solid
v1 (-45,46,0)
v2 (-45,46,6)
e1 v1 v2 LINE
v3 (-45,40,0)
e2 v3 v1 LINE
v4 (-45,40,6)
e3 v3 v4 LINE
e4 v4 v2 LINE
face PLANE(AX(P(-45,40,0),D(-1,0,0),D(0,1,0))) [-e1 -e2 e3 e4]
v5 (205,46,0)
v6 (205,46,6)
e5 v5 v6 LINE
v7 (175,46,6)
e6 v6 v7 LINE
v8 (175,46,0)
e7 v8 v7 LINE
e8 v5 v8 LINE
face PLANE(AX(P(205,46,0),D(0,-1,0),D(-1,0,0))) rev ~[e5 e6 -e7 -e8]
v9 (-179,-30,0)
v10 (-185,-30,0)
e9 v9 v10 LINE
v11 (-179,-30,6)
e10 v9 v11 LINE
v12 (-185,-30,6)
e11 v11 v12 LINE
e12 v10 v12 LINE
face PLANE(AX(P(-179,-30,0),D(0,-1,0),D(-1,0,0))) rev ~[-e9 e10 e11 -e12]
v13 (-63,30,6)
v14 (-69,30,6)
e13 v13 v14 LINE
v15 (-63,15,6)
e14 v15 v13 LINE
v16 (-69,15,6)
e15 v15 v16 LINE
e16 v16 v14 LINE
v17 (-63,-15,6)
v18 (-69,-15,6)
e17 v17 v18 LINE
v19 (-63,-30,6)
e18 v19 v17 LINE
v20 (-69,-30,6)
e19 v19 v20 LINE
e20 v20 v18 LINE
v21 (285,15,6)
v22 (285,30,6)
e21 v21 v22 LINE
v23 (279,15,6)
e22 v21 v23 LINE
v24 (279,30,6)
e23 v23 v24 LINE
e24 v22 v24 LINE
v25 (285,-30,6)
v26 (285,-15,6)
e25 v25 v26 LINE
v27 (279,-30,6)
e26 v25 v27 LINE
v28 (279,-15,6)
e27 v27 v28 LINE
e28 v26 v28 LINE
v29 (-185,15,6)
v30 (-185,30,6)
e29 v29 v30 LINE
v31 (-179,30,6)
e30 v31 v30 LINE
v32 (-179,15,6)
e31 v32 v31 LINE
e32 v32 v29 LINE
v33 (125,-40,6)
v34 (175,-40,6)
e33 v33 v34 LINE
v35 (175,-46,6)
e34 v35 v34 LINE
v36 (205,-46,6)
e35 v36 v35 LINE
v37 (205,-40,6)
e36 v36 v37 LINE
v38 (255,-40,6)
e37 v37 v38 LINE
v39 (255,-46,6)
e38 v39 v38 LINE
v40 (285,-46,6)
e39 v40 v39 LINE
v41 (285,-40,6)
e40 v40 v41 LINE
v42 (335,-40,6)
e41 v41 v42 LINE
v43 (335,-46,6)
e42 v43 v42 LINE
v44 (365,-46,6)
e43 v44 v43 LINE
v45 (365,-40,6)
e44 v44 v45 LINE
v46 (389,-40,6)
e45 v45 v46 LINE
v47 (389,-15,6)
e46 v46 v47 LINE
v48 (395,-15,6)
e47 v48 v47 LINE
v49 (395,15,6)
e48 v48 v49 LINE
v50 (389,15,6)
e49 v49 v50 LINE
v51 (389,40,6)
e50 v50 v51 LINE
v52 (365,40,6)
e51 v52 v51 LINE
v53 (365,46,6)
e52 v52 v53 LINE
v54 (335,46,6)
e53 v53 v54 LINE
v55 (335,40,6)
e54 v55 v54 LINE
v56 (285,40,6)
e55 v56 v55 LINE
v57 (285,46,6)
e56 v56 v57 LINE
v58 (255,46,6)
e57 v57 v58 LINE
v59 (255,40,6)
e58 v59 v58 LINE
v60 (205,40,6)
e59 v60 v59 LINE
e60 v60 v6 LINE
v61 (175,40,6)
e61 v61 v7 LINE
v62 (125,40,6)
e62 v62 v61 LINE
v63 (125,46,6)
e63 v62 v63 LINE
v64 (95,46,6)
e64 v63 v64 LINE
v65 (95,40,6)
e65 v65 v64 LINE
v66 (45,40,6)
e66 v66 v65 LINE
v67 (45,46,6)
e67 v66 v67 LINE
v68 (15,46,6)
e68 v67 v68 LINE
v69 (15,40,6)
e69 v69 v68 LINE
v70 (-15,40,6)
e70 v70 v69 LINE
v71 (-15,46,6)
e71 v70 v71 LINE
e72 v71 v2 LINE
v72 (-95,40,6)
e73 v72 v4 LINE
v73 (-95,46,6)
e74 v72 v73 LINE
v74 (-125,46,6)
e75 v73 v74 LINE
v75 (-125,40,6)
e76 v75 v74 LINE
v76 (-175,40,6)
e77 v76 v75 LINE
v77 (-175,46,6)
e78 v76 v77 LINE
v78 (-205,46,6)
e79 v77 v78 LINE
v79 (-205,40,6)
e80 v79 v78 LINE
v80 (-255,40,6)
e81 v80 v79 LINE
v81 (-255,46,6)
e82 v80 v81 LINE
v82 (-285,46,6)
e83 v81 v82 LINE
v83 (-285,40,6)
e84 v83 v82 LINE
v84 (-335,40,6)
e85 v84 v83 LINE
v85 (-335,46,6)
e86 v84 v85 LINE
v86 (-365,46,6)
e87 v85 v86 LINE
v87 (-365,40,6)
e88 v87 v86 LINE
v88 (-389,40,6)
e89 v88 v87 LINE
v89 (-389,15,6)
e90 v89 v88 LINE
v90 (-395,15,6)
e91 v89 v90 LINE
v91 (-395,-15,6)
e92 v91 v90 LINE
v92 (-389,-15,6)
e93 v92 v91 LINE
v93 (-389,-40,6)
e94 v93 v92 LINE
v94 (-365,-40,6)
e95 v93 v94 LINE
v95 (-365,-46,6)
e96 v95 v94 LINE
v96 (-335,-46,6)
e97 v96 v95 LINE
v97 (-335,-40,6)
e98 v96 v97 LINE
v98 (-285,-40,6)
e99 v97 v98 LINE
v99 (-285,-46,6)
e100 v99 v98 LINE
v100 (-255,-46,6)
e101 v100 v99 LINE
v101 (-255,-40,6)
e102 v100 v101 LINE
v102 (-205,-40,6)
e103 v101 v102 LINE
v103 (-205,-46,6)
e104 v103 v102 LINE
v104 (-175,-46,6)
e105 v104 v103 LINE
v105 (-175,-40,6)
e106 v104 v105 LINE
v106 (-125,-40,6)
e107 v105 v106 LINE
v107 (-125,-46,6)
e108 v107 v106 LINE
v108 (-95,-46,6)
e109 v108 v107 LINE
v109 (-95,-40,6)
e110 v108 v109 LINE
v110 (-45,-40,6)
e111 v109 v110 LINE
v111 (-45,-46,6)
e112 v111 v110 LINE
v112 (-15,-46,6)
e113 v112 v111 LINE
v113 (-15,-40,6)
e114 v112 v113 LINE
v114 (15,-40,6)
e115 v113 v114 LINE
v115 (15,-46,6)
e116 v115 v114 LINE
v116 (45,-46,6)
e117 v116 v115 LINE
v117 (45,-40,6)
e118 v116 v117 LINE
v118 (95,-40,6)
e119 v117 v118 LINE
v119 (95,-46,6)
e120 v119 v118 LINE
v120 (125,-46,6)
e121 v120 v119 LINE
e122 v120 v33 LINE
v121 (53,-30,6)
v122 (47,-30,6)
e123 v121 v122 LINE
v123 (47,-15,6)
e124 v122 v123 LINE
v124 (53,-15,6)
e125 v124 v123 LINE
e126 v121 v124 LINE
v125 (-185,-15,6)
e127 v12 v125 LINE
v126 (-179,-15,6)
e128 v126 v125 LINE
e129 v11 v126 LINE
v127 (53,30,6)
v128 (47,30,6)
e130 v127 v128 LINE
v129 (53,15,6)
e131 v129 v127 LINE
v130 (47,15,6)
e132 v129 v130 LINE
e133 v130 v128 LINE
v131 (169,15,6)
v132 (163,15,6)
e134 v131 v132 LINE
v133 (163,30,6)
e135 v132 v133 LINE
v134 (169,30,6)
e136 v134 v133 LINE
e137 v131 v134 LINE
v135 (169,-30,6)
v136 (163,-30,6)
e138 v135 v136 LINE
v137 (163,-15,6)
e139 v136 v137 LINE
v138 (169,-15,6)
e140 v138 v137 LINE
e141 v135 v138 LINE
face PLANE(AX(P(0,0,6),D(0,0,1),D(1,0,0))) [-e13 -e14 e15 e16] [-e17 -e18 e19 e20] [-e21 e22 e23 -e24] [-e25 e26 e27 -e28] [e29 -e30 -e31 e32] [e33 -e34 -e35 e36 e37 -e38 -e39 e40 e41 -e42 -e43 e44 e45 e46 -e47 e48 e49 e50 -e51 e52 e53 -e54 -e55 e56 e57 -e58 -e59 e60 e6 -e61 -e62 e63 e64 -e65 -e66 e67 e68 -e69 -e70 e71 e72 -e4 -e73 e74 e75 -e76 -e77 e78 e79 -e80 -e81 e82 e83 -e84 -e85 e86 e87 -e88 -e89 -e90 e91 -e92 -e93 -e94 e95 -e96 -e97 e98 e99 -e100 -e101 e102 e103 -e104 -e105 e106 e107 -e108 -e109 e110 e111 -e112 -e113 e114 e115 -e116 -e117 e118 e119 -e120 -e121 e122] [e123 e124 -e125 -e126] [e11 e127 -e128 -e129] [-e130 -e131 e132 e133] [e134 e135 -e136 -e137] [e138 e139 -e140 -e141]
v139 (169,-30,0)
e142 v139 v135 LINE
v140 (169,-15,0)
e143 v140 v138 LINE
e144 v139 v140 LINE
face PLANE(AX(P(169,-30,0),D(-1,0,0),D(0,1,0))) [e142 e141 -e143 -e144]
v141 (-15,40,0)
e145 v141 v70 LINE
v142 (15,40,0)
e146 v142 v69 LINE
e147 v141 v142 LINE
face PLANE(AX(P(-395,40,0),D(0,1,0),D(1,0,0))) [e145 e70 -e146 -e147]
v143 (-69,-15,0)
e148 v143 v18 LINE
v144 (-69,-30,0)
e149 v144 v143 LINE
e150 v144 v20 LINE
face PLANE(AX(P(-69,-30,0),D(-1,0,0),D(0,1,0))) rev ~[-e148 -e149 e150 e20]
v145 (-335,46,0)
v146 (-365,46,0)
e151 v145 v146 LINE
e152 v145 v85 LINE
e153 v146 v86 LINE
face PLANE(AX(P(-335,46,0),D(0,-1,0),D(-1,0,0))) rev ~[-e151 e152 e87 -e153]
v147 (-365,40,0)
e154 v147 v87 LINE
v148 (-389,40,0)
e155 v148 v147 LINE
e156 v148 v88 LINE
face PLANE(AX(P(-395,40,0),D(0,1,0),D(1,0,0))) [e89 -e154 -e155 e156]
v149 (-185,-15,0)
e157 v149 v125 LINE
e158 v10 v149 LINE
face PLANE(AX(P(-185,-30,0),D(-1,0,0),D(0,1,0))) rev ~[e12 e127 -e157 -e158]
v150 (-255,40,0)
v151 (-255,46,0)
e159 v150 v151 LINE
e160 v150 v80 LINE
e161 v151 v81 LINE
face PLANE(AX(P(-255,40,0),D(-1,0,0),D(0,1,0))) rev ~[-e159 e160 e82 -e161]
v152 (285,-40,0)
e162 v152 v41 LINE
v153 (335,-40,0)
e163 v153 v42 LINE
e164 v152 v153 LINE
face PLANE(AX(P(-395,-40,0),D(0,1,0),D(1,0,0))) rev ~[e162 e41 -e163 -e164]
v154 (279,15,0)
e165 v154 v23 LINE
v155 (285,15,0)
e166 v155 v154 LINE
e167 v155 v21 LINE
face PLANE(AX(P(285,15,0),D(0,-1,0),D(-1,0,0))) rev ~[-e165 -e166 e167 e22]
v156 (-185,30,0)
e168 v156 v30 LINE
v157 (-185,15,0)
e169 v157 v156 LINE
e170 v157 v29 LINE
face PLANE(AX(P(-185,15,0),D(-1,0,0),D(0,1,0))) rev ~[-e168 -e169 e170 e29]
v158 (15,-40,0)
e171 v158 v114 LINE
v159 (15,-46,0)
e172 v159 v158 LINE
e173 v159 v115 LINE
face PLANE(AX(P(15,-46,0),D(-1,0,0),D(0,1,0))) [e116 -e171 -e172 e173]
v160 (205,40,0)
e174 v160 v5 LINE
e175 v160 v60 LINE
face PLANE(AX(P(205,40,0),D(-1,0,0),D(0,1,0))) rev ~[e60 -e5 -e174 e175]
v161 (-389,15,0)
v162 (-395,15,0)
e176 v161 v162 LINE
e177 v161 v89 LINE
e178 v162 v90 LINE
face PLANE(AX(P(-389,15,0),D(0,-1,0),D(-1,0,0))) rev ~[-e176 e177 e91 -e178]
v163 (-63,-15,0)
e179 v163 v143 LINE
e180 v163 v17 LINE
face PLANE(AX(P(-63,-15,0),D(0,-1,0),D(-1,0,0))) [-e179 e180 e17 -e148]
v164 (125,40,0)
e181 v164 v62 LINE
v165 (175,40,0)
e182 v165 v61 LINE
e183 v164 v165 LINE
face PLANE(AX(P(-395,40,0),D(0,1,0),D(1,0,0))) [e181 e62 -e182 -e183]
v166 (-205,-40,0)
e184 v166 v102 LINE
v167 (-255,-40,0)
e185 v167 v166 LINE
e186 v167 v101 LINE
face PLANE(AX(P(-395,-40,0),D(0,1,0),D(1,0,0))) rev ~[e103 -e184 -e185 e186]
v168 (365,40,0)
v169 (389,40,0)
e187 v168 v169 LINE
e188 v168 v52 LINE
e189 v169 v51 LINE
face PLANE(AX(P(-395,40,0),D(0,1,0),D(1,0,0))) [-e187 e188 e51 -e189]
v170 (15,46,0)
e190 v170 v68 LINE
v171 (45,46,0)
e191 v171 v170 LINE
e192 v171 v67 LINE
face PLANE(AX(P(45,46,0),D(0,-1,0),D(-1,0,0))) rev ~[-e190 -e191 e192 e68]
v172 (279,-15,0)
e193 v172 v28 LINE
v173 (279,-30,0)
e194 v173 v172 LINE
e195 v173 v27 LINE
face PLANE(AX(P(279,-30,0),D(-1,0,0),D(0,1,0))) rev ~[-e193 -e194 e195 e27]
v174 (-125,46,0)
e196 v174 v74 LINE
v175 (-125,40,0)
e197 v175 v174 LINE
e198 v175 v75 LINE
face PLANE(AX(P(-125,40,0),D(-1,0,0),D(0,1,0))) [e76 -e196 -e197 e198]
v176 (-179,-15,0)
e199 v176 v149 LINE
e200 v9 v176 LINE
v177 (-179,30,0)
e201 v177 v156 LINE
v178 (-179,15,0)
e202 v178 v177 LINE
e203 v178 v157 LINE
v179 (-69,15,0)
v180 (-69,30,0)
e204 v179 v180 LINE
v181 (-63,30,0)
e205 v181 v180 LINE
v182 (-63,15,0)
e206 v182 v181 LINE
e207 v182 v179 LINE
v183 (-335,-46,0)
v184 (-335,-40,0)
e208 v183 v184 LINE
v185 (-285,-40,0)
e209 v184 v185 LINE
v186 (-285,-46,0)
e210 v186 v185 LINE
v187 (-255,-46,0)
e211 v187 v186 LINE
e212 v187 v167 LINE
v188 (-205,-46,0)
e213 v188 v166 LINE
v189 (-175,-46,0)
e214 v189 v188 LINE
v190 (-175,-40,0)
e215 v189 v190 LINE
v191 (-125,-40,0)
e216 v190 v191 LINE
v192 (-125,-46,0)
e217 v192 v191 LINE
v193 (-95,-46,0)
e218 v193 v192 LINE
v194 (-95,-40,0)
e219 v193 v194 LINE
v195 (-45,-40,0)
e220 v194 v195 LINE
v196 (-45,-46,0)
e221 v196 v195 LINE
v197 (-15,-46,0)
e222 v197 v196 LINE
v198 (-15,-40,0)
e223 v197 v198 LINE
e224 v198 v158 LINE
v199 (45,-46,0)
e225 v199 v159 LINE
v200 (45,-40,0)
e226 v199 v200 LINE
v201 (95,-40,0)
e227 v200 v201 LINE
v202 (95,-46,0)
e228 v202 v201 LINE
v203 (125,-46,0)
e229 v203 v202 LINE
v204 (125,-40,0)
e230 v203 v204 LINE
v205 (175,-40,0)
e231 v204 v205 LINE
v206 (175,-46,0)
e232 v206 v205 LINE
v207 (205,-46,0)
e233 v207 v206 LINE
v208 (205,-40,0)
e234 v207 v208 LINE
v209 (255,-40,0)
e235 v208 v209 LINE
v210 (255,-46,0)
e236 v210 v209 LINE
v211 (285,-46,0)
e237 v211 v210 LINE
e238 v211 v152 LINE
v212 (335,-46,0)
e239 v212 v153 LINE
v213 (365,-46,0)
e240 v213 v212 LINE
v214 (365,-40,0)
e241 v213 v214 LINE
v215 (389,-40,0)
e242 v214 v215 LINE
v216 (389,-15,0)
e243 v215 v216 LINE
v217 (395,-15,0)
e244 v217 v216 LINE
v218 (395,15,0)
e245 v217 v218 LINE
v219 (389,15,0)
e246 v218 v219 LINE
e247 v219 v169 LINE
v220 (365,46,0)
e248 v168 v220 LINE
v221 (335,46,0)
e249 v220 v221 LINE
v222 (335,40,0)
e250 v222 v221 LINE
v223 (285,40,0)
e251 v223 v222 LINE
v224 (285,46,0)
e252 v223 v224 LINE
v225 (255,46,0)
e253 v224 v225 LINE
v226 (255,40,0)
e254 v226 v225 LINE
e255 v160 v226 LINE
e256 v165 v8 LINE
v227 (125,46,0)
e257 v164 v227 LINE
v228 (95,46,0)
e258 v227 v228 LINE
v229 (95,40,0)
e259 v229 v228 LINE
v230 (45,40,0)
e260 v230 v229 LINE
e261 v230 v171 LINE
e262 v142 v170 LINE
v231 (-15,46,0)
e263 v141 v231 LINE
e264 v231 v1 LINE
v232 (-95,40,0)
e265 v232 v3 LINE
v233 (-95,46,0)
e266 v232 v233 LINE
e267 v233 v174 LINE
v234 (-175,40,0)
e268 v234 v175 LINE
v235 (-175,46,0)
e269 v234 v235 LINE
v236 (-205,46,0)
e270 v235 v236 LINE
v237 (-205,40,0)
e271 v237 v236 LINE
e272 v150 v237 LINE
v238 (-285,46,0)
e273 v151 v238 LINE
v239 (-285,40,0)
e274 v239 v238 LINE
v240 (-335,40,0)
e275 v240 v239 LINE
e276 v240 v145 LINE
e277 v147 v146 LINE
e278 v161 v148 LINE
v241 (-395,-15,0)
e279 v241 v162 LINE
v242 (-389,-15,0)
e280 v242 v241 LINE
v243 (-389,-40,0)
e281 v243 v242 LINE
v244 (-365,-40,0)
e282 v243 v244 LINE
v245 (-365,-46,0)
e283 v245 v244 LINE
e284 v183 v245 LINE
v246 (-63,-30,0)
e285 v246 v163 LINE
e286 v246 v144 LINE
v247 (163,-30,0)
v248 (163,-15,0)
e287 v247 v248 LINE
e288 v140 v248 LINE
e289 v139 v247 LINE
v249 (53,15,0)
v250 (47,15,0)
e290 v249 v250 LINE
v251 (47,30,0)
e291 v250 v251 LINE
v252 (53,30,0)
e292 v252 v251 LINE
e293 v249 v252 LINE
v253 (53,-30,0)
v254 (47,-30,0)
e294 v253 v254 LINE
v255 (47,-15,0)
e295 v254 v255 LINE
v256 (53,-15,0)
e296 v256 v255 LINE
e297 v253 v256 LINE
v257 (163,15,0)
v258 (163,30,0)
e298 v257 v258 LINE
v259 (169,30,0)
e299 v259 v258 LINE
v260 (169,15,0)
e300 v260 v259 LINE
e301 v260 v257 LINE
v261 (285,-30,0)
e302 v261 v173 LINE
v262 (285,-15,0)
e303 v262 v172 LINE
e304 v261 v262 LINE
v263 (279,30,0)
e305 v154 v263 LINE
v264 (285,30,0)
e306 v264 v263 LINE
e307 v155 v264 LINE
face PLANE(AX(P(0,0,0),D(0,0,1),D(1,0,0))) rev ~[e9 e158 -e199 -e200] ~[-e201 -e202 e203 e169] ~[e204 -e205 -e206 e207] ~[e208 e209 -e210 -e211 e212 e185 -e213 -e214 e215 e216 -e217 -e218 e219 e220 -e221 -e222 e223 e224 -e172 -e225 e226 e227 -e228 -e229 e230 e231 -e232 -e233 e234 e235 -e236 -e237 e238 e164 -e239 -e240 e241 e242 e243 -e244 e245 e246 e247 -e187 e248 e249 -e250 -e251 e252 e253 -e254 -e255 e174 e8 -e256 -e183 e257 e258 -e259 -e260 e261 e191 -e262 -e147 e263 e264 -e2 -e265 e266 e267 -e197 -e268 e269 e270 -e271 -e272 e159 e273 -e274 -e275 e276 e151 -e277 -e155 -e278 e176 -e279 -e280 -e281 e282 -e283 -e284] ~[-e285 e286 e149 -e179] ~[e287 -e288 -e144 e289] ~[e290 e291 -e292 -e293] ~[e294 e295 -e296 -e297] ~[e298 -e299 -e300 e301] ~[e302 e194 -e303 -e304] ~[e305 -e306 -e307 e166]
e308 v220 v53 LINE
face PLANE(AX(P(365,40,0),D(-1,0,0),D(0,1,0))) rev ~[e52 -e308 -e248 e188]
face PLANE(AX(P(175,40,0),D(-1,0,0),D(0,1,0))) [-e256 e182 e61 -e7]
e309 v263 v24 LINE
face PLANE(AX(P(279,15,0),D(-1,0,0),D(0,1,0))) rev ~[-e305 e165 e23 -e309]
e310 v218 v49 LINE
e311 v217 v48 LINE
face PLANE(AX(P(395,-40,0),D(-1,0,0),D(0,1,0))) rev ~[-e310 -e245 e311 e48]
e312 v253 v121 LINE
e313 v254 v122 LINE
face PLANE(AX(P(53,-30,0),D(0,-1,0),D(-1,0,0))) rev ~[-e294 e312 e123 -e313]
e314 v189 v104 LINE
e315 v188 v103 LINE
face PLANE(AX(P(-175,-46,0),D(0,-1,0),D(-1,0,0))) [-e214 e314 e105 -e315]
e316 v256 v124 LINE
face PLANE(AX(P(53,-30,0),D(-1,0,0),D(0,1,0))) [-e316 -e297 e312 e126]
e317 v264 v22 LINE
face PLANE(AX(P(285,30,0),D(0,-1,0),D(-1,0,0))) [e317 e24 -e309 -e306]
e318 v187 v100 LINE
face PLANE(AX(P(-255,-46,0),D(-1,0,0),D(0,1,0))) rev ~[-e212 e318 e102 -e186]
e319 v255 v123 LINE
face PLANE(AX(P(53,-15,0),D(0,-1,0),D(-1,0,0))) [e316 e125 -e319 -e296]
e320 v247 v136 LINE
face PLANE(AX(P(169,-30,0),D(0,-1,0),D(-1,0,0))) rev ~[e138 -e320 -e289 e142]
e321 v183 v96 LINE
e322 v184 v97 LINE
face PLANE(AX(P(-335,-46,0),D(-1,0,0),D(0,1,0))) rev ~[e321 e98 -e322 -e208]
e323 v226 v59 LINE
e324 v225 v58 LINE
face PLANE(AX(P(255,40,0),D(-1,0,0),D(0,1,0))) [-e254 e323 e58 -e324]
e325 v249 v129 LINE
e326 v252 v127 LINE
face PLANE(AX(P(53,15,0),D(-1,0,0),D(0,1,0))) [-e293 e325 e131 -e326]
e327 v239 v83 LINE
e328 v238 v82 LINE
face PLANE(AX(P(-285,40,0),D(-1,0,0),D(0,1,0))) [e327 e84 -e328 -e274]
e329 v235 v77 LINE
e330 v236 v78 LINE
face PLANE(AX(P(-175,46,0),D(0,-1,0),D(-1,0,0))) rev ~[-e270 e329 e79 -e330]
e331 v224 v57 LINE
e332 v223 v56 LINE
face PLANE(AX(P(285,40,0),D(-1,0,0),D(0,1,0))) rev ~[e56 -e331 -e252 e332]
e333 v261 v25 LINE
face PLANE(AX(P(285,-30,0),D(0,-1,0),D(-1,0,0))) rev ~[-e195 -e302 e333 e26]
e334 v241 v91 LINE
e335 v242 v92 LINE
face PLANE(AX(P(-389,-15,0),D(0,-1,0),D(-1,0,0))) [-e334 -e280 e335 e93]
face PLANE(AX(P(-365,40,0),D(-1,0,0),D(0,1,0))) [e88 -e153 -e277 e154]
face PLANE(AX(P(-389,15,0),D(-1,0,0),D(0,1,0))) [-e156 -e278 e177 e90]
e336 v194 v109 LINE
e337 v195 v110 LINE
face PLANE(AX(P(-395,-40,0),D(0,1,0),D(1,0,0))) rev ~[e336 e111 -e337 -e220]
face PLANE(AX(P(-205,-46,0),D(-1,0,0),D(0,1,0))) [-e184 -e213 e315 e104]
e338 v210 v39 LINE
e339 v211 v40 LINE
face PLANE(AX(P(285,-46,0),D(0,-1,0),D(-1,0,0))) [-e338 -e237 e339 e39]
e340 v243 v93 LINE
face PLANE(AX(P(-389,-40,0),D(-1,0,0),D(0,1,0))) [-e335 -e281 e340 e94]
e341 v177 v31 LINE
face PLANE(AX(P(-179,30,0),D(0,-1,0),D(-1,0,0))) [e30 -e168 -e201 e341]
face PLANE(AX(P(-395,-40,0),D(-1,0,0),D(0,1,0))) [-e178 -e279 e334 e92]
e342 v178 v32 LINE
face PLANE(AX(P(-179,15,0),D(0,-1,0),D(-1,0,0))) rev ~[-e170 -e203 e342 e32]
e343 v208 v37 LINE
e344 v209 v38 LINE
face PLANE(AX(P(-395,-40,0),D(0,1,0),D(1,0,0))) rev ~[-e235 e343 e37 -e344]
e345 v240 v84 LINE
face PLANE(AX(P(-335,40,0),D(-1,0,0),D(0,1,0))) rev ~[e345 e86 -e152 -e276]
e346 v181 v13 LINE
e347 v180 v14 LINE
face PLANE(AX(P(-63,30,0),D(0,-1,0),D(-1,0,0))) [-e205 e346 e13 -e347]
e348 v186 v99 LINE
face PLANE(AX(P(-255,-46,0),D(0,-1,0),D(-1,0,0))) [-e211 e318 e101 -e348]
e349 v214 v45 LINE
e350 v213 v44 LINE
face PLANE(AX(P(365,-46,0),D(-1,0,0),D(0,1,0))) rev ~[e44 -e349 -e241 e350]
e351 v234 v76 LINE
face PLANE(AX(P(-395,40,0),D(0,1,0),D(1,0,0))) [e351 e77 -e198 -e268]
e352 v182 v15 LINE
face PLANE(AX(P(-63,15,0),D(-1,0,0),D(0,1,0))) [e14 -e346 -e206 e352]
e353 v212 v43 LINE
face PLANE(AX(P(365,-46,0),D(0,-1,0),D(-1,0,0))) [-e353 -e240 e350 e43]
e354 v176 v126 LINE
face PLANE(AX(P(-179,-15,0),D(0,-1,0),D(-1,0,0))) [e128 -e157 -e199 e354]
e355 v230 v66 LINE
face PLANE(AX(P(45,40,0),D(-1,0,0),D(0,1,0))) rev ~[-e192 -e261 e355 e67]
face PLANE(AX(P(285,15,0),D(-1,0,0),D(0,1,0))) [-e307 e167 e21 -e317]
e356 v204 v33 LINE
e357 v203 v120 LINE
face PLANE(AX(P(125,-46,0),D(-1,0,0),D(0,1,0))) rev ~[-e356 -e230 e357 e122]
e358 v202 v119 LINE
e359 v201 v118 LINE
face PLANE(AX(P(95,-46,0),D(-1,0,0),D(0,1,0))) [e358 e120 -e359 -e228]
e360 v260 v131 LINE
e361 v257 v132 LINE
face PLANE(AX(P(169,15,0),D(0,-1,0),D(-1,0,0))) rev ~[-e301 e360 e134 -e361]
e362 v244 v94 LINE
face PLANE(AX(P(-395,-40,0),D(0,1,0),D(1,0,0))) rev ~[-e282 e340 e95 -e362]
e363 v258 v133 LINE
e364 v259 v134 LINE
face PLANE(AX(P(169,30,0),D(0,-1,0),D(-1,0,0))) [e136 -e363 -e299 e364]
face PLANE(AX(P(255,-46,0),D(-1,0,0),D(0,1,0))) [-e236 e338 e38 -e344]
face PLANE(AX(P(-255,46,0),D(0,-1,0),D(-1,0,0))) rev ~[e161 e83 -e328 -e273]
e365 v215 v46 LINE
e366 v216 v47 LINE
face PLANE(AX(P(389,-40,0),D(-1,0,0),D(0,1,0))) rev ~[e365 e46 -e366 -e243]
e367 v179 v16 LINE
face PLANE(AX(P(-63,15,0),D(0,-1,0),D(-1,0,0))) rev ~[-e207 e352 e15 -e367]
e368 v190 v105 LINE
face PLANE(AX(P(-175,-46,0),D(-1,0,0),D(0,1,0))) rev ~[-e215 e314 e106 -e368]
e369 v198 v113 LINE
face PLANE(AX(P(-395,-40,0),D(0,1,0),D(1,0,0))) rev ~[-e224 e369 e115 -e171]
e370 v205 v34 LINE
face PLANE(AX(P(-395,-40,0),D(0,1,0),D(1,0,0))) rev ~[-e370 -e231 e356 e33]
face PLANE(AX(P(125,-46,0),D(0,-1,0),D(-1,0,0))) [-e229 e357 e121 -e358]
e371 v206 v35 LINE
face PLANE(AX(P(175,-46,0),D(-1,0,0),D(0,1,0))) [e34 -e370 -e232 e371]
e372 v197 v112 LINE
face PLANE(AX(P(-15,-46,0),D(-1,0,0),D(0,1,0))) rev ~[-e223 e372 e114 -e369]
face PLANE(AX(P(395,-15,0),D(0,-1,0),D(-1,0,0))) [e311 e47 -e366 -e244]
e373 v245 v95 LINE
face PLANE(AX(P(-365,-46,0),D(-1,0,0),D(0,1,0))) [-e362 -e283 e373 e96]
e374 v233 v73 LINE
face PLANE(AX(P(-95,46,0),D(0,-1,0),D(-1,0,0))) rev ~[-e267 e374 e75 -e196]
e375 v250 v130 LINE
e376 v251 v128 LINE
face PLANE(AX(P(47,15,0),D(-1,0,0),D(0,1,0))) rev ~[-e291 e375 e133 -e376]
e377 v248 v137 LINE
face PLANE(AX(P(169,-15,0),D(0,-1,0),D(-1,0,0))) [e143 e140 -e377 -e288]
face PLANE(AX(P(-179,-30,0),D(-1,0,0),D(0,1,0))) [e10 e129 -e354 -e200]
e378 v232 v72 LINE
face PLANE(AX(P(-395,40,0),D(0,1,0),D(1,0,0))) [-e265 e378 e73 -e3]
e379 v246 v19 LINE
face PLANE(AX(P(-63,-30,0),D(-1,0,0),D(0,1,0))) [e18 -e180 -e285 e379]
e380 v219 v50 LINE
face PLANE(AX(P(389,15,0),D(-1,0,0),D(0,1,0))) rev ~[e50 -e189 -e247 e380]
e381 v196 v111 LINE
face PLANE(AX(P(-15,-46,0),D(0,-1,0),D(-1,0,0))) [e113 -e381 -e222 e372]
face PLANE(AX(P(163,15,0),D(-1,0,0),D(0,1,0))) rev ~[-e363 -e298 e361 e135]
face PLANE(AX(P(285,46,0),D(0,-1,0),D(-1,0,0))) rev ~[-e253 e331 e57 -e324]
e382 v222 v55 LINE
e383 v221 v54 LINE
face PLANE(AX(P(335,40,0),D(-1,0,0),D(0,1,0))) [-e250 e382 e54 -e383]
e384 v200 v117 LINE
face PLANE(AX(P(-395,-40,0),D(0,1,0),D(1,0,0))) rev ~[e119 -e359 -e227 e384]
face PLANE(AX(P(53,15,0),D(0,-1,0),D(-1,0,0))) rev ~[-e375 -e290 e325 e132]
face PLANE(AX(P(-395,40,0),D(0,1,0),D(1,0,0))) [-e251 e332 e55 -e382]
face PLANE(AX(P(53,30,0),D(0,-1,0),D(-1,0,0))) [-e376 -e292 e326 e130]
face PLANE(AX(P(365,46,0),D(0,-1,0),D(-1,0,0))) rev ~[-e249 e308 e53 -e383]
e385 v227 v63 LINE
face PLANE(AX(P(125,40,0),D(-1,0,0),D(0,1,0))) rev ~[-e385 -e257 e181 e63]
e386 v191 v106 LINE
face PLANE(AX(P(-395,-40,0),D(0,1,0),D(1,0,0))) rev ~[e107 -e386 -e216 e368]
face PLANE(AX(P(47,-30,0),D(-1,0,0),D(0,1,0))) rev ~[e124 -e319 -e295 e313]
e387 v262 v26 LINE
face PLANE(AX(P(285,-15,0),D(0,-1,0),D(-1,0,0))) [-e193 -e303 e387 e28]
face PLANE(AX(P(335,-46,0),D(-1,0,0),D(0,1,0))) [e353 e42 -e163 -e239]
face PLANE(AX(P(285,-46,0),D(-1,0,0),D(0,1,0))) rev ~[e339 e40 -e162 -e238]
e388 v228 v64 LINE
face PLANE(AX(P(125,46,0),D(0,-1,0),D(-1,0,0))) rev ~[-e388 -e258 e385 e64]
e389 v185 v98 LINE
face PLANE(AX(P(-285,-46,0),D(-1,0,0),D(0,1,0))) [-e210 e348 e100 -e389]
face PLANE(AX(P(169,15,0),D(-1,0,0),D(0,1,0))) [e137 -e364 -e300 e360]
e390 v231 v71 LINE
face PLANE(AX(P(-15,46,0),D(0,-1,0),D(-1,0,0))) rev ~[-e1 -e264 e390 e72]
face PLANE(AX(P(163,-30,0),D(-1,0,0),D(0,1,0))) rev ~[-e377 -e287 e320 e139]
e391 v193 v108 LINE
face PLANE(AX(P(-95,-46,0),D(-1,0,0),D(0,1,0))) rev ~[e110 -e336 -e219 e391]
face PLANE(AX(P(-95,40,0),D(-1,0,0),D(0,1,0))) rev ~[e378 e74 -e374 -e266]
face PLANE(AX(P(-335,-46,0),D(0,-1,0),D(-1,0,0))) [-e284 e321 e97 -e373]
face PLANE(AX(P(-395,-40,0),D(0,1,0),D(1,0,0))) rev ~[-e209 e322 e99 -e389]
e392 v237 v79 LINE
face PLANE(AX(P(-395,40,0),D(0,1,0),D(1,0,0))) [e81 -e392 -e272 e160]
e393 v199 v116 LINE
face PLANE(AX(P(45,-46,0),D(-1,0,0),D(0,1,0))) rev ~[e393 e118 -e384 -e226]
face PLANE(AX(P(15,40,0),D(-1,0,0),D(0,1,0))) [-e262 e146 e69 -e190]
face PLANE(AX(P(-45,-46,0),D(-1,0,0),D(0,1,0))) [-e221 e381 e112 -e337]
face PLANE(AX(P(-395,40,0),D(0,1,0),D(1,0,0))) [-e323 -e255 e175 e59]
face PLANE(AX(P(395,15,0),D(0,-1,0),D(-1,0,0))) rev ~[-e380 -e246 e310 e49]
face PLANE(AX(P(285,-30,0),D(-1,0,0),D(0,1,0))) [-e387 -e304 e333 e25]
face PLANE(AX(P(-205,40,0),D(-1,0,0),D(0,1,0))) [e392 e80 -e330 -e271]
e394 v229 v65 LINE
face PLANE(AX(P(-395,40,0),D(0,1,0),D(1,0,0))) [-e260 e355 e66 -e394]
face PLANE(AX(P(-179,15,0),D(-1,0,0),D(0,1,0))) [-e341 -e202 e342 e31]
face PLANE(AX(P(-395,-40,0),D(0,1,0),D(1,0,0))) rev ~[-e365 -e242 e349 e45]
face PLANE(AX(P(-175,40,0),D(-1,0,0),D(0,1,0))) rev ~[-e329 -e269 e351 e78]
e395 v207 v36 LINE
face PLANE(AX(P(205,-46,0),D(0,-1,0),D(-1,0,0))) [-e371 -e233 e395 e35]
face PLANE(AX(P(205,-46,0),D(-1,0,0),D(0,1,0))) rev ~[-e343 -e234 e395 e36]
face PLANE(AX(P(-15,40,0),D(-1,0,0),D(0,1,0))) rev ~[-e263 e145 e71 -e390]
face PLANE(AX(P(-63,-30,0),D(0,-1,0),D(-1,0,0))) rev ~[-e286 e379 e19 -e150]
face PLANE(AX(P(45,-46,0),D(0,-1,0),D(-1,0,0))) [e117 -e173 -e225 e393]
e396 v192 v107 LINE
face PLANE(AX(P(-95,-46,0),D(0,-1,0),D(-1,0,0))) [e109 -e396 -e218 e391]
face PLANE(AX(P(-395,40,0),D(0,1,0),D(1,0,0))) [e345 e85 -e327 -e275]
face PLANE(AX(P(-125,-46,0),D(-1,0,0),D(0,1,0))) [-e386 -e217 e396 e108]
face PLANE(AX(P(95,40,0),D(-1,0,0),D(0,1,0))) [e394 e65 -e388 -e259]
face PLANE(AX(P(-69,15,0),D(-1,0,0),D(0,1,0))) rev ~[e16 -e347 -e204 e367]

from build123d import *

# Parameters (mm, degrees)
SKETCH1_W           = 790
SKETCH1_H           = 80
BOSS_EXTRUDE1_DEPTH = 6
SKETCH2_W           = 6
SKETCH2_H           = 25
SKETCH2_H_2         = 15
CUT_EXTRUDE1_DEPTH  = 6
SKETCH3_W           = 30
SKETCH3_H           = 6
BOSS_EXTRUDE2_DEPTH = 6


with BuildPart() as part:
    # Sketch1 → Boss-Extrude1 (new body)
    with BuildSketch(Plane.XY):
        Rectangle(SKETCH1_W, SKETCH1_H)
    extrude(amount=BOSS_EXTRUDE1_DEPTH)

    # Sketch2 → Cut-Extrude1 (cut)
    with BuildSketch(Plane(origin=(0, 0, 0), x_dir=(-1, 0, 0), z_dir=(0, 0, -1))):
        with Locations((392, 27.5)):
            Rectangle(SKETCH2_W, SKETCH2_H)
        with Locations((392, -27.5)):
            Rectangle(SKETCH2_W, SKETCH2_H)
        with Locations((-392, -27.5)):
            Rectangle(SKETCH2_W, SKETCH2_H)
        with Locations((-392, 27.5)):
            Rectangle(SKETCH2_W, SKETCH2_H)
        with Locations((66, -22.5)):
            Rectangle(SKETCH2_W, SKETCH2_H_2)
        with Locations((182, -22.5)):
            Rectangle(SKETCH2_W, SKETCH2_H_2)
        with Locations((182, 22.5)):
            Rectangle(SKETCH2_W, SKETCH2_H_2)
        with Locations((66, 22.5)):
            Rectangle(SKETCH2_W, SKETCH2_H_2)
        with Locations((-50, -22.5)):
            Rectangle(SKETCH2_W, SKETCH2_H_2)
        with Locations((-50, 22.5)):
            Rectangle(SKETCH2_W, SKETCH2_H_2)
        with Locations((-166, -22.5)):
            Rectangle(SKETCH2_W, SKETCH2_H_2)
        with Locations((-166, 22.5)):
            Rectangle(SKETCH2_W, SKETCH2_H_2)
        with Locations((-282, -22.5)):
            Rectangle(SKETCH2_W, SKETCH2_H_2)
        with Locations((-282, 22.5)):
            Rectangle(SKETCH2_W, SKETCH2_H_2)
    extrude(amount=-CUT_EXTRUDE1_DEPTH, mode=Mode.SUBTRACT)

    # Sketch3 → Boss-Extrude2 (add)
    with BuildSketch(Plane(origin=(0, 0, 0), x_dir=(-1, 0, 0), z_dir=(0, 0, -1))):
        with Locations((-30, -43)):
            Rectangle(SKETCH3_W, SKETCH3_H)
        with Locations((-30, 43)):
            Rectangle(SKETCH3_W, SKETCH3_H)
        with Locations((-110, -43)):
            Rectangle(SKETCH3_W, SKETCH3_H)
        with Locations((-110, 43)):
            Rectangle(SKETCH3_W, SKETCH3_H)
        with Locations((-190, -43)):
            Rectangle(SKETCH3_W, SKETCH3_H)
        with Locations((-190, 43)):
            Rectangle(SKETCH3_W, SKETCH3_H)
        with Locations((-270, -43)):
            Rectangle(SKETCH3_W, SKETCH3_H)
        with Locations((-270, 43)):
            Rectangle(SKETCH3_W, SKETCH3_H)
        with Locations((-350, -43)):
            Rectangle(SKETCH3_W, SKETCH3_H)
        with Locations((-350, 43)):
            Rectangle(SKETCH3_W, SKETCH3_H)
        with Locations((350, 43)):
            Rectangle(SKETCH3_W, SKETCH3_H)
        with Locations((350, -43)):
            Rectangle(SKETCH3_W, SKETCH3_H)
        with Locations((270, 43)):
            Rectangle(SKETCH3_W, SKETCH3_H)
        with Locations((270, -43)):
            Rectangle(SKETCH3_W, SKETCH3_H)
        with Locations((190, 43)):
            Rectangle(SKETCH3_W, SKETCH3_H)
        with Locations((190, -43)):
            Rectangle(SKETCH3_W, SKETCH3_H)
        with Locations((110, 43)):
            Rectangle(SKETCH3_W, SKETCH3_H)
        with Locations((110, -43)):
            Rectangle(SKETCH3_W, SKETCH3_H)
        with Locations((30, 43)):
            Rectangle(SKETCH3_W, SKETCH3_H)
        with Locations((30, -43)):
            Rectangle(SKETCH3_W, SKETCH3_H)
    extrude(amount=-BOSS_EXTRUDE2_DEPTH)


solid = part.part
